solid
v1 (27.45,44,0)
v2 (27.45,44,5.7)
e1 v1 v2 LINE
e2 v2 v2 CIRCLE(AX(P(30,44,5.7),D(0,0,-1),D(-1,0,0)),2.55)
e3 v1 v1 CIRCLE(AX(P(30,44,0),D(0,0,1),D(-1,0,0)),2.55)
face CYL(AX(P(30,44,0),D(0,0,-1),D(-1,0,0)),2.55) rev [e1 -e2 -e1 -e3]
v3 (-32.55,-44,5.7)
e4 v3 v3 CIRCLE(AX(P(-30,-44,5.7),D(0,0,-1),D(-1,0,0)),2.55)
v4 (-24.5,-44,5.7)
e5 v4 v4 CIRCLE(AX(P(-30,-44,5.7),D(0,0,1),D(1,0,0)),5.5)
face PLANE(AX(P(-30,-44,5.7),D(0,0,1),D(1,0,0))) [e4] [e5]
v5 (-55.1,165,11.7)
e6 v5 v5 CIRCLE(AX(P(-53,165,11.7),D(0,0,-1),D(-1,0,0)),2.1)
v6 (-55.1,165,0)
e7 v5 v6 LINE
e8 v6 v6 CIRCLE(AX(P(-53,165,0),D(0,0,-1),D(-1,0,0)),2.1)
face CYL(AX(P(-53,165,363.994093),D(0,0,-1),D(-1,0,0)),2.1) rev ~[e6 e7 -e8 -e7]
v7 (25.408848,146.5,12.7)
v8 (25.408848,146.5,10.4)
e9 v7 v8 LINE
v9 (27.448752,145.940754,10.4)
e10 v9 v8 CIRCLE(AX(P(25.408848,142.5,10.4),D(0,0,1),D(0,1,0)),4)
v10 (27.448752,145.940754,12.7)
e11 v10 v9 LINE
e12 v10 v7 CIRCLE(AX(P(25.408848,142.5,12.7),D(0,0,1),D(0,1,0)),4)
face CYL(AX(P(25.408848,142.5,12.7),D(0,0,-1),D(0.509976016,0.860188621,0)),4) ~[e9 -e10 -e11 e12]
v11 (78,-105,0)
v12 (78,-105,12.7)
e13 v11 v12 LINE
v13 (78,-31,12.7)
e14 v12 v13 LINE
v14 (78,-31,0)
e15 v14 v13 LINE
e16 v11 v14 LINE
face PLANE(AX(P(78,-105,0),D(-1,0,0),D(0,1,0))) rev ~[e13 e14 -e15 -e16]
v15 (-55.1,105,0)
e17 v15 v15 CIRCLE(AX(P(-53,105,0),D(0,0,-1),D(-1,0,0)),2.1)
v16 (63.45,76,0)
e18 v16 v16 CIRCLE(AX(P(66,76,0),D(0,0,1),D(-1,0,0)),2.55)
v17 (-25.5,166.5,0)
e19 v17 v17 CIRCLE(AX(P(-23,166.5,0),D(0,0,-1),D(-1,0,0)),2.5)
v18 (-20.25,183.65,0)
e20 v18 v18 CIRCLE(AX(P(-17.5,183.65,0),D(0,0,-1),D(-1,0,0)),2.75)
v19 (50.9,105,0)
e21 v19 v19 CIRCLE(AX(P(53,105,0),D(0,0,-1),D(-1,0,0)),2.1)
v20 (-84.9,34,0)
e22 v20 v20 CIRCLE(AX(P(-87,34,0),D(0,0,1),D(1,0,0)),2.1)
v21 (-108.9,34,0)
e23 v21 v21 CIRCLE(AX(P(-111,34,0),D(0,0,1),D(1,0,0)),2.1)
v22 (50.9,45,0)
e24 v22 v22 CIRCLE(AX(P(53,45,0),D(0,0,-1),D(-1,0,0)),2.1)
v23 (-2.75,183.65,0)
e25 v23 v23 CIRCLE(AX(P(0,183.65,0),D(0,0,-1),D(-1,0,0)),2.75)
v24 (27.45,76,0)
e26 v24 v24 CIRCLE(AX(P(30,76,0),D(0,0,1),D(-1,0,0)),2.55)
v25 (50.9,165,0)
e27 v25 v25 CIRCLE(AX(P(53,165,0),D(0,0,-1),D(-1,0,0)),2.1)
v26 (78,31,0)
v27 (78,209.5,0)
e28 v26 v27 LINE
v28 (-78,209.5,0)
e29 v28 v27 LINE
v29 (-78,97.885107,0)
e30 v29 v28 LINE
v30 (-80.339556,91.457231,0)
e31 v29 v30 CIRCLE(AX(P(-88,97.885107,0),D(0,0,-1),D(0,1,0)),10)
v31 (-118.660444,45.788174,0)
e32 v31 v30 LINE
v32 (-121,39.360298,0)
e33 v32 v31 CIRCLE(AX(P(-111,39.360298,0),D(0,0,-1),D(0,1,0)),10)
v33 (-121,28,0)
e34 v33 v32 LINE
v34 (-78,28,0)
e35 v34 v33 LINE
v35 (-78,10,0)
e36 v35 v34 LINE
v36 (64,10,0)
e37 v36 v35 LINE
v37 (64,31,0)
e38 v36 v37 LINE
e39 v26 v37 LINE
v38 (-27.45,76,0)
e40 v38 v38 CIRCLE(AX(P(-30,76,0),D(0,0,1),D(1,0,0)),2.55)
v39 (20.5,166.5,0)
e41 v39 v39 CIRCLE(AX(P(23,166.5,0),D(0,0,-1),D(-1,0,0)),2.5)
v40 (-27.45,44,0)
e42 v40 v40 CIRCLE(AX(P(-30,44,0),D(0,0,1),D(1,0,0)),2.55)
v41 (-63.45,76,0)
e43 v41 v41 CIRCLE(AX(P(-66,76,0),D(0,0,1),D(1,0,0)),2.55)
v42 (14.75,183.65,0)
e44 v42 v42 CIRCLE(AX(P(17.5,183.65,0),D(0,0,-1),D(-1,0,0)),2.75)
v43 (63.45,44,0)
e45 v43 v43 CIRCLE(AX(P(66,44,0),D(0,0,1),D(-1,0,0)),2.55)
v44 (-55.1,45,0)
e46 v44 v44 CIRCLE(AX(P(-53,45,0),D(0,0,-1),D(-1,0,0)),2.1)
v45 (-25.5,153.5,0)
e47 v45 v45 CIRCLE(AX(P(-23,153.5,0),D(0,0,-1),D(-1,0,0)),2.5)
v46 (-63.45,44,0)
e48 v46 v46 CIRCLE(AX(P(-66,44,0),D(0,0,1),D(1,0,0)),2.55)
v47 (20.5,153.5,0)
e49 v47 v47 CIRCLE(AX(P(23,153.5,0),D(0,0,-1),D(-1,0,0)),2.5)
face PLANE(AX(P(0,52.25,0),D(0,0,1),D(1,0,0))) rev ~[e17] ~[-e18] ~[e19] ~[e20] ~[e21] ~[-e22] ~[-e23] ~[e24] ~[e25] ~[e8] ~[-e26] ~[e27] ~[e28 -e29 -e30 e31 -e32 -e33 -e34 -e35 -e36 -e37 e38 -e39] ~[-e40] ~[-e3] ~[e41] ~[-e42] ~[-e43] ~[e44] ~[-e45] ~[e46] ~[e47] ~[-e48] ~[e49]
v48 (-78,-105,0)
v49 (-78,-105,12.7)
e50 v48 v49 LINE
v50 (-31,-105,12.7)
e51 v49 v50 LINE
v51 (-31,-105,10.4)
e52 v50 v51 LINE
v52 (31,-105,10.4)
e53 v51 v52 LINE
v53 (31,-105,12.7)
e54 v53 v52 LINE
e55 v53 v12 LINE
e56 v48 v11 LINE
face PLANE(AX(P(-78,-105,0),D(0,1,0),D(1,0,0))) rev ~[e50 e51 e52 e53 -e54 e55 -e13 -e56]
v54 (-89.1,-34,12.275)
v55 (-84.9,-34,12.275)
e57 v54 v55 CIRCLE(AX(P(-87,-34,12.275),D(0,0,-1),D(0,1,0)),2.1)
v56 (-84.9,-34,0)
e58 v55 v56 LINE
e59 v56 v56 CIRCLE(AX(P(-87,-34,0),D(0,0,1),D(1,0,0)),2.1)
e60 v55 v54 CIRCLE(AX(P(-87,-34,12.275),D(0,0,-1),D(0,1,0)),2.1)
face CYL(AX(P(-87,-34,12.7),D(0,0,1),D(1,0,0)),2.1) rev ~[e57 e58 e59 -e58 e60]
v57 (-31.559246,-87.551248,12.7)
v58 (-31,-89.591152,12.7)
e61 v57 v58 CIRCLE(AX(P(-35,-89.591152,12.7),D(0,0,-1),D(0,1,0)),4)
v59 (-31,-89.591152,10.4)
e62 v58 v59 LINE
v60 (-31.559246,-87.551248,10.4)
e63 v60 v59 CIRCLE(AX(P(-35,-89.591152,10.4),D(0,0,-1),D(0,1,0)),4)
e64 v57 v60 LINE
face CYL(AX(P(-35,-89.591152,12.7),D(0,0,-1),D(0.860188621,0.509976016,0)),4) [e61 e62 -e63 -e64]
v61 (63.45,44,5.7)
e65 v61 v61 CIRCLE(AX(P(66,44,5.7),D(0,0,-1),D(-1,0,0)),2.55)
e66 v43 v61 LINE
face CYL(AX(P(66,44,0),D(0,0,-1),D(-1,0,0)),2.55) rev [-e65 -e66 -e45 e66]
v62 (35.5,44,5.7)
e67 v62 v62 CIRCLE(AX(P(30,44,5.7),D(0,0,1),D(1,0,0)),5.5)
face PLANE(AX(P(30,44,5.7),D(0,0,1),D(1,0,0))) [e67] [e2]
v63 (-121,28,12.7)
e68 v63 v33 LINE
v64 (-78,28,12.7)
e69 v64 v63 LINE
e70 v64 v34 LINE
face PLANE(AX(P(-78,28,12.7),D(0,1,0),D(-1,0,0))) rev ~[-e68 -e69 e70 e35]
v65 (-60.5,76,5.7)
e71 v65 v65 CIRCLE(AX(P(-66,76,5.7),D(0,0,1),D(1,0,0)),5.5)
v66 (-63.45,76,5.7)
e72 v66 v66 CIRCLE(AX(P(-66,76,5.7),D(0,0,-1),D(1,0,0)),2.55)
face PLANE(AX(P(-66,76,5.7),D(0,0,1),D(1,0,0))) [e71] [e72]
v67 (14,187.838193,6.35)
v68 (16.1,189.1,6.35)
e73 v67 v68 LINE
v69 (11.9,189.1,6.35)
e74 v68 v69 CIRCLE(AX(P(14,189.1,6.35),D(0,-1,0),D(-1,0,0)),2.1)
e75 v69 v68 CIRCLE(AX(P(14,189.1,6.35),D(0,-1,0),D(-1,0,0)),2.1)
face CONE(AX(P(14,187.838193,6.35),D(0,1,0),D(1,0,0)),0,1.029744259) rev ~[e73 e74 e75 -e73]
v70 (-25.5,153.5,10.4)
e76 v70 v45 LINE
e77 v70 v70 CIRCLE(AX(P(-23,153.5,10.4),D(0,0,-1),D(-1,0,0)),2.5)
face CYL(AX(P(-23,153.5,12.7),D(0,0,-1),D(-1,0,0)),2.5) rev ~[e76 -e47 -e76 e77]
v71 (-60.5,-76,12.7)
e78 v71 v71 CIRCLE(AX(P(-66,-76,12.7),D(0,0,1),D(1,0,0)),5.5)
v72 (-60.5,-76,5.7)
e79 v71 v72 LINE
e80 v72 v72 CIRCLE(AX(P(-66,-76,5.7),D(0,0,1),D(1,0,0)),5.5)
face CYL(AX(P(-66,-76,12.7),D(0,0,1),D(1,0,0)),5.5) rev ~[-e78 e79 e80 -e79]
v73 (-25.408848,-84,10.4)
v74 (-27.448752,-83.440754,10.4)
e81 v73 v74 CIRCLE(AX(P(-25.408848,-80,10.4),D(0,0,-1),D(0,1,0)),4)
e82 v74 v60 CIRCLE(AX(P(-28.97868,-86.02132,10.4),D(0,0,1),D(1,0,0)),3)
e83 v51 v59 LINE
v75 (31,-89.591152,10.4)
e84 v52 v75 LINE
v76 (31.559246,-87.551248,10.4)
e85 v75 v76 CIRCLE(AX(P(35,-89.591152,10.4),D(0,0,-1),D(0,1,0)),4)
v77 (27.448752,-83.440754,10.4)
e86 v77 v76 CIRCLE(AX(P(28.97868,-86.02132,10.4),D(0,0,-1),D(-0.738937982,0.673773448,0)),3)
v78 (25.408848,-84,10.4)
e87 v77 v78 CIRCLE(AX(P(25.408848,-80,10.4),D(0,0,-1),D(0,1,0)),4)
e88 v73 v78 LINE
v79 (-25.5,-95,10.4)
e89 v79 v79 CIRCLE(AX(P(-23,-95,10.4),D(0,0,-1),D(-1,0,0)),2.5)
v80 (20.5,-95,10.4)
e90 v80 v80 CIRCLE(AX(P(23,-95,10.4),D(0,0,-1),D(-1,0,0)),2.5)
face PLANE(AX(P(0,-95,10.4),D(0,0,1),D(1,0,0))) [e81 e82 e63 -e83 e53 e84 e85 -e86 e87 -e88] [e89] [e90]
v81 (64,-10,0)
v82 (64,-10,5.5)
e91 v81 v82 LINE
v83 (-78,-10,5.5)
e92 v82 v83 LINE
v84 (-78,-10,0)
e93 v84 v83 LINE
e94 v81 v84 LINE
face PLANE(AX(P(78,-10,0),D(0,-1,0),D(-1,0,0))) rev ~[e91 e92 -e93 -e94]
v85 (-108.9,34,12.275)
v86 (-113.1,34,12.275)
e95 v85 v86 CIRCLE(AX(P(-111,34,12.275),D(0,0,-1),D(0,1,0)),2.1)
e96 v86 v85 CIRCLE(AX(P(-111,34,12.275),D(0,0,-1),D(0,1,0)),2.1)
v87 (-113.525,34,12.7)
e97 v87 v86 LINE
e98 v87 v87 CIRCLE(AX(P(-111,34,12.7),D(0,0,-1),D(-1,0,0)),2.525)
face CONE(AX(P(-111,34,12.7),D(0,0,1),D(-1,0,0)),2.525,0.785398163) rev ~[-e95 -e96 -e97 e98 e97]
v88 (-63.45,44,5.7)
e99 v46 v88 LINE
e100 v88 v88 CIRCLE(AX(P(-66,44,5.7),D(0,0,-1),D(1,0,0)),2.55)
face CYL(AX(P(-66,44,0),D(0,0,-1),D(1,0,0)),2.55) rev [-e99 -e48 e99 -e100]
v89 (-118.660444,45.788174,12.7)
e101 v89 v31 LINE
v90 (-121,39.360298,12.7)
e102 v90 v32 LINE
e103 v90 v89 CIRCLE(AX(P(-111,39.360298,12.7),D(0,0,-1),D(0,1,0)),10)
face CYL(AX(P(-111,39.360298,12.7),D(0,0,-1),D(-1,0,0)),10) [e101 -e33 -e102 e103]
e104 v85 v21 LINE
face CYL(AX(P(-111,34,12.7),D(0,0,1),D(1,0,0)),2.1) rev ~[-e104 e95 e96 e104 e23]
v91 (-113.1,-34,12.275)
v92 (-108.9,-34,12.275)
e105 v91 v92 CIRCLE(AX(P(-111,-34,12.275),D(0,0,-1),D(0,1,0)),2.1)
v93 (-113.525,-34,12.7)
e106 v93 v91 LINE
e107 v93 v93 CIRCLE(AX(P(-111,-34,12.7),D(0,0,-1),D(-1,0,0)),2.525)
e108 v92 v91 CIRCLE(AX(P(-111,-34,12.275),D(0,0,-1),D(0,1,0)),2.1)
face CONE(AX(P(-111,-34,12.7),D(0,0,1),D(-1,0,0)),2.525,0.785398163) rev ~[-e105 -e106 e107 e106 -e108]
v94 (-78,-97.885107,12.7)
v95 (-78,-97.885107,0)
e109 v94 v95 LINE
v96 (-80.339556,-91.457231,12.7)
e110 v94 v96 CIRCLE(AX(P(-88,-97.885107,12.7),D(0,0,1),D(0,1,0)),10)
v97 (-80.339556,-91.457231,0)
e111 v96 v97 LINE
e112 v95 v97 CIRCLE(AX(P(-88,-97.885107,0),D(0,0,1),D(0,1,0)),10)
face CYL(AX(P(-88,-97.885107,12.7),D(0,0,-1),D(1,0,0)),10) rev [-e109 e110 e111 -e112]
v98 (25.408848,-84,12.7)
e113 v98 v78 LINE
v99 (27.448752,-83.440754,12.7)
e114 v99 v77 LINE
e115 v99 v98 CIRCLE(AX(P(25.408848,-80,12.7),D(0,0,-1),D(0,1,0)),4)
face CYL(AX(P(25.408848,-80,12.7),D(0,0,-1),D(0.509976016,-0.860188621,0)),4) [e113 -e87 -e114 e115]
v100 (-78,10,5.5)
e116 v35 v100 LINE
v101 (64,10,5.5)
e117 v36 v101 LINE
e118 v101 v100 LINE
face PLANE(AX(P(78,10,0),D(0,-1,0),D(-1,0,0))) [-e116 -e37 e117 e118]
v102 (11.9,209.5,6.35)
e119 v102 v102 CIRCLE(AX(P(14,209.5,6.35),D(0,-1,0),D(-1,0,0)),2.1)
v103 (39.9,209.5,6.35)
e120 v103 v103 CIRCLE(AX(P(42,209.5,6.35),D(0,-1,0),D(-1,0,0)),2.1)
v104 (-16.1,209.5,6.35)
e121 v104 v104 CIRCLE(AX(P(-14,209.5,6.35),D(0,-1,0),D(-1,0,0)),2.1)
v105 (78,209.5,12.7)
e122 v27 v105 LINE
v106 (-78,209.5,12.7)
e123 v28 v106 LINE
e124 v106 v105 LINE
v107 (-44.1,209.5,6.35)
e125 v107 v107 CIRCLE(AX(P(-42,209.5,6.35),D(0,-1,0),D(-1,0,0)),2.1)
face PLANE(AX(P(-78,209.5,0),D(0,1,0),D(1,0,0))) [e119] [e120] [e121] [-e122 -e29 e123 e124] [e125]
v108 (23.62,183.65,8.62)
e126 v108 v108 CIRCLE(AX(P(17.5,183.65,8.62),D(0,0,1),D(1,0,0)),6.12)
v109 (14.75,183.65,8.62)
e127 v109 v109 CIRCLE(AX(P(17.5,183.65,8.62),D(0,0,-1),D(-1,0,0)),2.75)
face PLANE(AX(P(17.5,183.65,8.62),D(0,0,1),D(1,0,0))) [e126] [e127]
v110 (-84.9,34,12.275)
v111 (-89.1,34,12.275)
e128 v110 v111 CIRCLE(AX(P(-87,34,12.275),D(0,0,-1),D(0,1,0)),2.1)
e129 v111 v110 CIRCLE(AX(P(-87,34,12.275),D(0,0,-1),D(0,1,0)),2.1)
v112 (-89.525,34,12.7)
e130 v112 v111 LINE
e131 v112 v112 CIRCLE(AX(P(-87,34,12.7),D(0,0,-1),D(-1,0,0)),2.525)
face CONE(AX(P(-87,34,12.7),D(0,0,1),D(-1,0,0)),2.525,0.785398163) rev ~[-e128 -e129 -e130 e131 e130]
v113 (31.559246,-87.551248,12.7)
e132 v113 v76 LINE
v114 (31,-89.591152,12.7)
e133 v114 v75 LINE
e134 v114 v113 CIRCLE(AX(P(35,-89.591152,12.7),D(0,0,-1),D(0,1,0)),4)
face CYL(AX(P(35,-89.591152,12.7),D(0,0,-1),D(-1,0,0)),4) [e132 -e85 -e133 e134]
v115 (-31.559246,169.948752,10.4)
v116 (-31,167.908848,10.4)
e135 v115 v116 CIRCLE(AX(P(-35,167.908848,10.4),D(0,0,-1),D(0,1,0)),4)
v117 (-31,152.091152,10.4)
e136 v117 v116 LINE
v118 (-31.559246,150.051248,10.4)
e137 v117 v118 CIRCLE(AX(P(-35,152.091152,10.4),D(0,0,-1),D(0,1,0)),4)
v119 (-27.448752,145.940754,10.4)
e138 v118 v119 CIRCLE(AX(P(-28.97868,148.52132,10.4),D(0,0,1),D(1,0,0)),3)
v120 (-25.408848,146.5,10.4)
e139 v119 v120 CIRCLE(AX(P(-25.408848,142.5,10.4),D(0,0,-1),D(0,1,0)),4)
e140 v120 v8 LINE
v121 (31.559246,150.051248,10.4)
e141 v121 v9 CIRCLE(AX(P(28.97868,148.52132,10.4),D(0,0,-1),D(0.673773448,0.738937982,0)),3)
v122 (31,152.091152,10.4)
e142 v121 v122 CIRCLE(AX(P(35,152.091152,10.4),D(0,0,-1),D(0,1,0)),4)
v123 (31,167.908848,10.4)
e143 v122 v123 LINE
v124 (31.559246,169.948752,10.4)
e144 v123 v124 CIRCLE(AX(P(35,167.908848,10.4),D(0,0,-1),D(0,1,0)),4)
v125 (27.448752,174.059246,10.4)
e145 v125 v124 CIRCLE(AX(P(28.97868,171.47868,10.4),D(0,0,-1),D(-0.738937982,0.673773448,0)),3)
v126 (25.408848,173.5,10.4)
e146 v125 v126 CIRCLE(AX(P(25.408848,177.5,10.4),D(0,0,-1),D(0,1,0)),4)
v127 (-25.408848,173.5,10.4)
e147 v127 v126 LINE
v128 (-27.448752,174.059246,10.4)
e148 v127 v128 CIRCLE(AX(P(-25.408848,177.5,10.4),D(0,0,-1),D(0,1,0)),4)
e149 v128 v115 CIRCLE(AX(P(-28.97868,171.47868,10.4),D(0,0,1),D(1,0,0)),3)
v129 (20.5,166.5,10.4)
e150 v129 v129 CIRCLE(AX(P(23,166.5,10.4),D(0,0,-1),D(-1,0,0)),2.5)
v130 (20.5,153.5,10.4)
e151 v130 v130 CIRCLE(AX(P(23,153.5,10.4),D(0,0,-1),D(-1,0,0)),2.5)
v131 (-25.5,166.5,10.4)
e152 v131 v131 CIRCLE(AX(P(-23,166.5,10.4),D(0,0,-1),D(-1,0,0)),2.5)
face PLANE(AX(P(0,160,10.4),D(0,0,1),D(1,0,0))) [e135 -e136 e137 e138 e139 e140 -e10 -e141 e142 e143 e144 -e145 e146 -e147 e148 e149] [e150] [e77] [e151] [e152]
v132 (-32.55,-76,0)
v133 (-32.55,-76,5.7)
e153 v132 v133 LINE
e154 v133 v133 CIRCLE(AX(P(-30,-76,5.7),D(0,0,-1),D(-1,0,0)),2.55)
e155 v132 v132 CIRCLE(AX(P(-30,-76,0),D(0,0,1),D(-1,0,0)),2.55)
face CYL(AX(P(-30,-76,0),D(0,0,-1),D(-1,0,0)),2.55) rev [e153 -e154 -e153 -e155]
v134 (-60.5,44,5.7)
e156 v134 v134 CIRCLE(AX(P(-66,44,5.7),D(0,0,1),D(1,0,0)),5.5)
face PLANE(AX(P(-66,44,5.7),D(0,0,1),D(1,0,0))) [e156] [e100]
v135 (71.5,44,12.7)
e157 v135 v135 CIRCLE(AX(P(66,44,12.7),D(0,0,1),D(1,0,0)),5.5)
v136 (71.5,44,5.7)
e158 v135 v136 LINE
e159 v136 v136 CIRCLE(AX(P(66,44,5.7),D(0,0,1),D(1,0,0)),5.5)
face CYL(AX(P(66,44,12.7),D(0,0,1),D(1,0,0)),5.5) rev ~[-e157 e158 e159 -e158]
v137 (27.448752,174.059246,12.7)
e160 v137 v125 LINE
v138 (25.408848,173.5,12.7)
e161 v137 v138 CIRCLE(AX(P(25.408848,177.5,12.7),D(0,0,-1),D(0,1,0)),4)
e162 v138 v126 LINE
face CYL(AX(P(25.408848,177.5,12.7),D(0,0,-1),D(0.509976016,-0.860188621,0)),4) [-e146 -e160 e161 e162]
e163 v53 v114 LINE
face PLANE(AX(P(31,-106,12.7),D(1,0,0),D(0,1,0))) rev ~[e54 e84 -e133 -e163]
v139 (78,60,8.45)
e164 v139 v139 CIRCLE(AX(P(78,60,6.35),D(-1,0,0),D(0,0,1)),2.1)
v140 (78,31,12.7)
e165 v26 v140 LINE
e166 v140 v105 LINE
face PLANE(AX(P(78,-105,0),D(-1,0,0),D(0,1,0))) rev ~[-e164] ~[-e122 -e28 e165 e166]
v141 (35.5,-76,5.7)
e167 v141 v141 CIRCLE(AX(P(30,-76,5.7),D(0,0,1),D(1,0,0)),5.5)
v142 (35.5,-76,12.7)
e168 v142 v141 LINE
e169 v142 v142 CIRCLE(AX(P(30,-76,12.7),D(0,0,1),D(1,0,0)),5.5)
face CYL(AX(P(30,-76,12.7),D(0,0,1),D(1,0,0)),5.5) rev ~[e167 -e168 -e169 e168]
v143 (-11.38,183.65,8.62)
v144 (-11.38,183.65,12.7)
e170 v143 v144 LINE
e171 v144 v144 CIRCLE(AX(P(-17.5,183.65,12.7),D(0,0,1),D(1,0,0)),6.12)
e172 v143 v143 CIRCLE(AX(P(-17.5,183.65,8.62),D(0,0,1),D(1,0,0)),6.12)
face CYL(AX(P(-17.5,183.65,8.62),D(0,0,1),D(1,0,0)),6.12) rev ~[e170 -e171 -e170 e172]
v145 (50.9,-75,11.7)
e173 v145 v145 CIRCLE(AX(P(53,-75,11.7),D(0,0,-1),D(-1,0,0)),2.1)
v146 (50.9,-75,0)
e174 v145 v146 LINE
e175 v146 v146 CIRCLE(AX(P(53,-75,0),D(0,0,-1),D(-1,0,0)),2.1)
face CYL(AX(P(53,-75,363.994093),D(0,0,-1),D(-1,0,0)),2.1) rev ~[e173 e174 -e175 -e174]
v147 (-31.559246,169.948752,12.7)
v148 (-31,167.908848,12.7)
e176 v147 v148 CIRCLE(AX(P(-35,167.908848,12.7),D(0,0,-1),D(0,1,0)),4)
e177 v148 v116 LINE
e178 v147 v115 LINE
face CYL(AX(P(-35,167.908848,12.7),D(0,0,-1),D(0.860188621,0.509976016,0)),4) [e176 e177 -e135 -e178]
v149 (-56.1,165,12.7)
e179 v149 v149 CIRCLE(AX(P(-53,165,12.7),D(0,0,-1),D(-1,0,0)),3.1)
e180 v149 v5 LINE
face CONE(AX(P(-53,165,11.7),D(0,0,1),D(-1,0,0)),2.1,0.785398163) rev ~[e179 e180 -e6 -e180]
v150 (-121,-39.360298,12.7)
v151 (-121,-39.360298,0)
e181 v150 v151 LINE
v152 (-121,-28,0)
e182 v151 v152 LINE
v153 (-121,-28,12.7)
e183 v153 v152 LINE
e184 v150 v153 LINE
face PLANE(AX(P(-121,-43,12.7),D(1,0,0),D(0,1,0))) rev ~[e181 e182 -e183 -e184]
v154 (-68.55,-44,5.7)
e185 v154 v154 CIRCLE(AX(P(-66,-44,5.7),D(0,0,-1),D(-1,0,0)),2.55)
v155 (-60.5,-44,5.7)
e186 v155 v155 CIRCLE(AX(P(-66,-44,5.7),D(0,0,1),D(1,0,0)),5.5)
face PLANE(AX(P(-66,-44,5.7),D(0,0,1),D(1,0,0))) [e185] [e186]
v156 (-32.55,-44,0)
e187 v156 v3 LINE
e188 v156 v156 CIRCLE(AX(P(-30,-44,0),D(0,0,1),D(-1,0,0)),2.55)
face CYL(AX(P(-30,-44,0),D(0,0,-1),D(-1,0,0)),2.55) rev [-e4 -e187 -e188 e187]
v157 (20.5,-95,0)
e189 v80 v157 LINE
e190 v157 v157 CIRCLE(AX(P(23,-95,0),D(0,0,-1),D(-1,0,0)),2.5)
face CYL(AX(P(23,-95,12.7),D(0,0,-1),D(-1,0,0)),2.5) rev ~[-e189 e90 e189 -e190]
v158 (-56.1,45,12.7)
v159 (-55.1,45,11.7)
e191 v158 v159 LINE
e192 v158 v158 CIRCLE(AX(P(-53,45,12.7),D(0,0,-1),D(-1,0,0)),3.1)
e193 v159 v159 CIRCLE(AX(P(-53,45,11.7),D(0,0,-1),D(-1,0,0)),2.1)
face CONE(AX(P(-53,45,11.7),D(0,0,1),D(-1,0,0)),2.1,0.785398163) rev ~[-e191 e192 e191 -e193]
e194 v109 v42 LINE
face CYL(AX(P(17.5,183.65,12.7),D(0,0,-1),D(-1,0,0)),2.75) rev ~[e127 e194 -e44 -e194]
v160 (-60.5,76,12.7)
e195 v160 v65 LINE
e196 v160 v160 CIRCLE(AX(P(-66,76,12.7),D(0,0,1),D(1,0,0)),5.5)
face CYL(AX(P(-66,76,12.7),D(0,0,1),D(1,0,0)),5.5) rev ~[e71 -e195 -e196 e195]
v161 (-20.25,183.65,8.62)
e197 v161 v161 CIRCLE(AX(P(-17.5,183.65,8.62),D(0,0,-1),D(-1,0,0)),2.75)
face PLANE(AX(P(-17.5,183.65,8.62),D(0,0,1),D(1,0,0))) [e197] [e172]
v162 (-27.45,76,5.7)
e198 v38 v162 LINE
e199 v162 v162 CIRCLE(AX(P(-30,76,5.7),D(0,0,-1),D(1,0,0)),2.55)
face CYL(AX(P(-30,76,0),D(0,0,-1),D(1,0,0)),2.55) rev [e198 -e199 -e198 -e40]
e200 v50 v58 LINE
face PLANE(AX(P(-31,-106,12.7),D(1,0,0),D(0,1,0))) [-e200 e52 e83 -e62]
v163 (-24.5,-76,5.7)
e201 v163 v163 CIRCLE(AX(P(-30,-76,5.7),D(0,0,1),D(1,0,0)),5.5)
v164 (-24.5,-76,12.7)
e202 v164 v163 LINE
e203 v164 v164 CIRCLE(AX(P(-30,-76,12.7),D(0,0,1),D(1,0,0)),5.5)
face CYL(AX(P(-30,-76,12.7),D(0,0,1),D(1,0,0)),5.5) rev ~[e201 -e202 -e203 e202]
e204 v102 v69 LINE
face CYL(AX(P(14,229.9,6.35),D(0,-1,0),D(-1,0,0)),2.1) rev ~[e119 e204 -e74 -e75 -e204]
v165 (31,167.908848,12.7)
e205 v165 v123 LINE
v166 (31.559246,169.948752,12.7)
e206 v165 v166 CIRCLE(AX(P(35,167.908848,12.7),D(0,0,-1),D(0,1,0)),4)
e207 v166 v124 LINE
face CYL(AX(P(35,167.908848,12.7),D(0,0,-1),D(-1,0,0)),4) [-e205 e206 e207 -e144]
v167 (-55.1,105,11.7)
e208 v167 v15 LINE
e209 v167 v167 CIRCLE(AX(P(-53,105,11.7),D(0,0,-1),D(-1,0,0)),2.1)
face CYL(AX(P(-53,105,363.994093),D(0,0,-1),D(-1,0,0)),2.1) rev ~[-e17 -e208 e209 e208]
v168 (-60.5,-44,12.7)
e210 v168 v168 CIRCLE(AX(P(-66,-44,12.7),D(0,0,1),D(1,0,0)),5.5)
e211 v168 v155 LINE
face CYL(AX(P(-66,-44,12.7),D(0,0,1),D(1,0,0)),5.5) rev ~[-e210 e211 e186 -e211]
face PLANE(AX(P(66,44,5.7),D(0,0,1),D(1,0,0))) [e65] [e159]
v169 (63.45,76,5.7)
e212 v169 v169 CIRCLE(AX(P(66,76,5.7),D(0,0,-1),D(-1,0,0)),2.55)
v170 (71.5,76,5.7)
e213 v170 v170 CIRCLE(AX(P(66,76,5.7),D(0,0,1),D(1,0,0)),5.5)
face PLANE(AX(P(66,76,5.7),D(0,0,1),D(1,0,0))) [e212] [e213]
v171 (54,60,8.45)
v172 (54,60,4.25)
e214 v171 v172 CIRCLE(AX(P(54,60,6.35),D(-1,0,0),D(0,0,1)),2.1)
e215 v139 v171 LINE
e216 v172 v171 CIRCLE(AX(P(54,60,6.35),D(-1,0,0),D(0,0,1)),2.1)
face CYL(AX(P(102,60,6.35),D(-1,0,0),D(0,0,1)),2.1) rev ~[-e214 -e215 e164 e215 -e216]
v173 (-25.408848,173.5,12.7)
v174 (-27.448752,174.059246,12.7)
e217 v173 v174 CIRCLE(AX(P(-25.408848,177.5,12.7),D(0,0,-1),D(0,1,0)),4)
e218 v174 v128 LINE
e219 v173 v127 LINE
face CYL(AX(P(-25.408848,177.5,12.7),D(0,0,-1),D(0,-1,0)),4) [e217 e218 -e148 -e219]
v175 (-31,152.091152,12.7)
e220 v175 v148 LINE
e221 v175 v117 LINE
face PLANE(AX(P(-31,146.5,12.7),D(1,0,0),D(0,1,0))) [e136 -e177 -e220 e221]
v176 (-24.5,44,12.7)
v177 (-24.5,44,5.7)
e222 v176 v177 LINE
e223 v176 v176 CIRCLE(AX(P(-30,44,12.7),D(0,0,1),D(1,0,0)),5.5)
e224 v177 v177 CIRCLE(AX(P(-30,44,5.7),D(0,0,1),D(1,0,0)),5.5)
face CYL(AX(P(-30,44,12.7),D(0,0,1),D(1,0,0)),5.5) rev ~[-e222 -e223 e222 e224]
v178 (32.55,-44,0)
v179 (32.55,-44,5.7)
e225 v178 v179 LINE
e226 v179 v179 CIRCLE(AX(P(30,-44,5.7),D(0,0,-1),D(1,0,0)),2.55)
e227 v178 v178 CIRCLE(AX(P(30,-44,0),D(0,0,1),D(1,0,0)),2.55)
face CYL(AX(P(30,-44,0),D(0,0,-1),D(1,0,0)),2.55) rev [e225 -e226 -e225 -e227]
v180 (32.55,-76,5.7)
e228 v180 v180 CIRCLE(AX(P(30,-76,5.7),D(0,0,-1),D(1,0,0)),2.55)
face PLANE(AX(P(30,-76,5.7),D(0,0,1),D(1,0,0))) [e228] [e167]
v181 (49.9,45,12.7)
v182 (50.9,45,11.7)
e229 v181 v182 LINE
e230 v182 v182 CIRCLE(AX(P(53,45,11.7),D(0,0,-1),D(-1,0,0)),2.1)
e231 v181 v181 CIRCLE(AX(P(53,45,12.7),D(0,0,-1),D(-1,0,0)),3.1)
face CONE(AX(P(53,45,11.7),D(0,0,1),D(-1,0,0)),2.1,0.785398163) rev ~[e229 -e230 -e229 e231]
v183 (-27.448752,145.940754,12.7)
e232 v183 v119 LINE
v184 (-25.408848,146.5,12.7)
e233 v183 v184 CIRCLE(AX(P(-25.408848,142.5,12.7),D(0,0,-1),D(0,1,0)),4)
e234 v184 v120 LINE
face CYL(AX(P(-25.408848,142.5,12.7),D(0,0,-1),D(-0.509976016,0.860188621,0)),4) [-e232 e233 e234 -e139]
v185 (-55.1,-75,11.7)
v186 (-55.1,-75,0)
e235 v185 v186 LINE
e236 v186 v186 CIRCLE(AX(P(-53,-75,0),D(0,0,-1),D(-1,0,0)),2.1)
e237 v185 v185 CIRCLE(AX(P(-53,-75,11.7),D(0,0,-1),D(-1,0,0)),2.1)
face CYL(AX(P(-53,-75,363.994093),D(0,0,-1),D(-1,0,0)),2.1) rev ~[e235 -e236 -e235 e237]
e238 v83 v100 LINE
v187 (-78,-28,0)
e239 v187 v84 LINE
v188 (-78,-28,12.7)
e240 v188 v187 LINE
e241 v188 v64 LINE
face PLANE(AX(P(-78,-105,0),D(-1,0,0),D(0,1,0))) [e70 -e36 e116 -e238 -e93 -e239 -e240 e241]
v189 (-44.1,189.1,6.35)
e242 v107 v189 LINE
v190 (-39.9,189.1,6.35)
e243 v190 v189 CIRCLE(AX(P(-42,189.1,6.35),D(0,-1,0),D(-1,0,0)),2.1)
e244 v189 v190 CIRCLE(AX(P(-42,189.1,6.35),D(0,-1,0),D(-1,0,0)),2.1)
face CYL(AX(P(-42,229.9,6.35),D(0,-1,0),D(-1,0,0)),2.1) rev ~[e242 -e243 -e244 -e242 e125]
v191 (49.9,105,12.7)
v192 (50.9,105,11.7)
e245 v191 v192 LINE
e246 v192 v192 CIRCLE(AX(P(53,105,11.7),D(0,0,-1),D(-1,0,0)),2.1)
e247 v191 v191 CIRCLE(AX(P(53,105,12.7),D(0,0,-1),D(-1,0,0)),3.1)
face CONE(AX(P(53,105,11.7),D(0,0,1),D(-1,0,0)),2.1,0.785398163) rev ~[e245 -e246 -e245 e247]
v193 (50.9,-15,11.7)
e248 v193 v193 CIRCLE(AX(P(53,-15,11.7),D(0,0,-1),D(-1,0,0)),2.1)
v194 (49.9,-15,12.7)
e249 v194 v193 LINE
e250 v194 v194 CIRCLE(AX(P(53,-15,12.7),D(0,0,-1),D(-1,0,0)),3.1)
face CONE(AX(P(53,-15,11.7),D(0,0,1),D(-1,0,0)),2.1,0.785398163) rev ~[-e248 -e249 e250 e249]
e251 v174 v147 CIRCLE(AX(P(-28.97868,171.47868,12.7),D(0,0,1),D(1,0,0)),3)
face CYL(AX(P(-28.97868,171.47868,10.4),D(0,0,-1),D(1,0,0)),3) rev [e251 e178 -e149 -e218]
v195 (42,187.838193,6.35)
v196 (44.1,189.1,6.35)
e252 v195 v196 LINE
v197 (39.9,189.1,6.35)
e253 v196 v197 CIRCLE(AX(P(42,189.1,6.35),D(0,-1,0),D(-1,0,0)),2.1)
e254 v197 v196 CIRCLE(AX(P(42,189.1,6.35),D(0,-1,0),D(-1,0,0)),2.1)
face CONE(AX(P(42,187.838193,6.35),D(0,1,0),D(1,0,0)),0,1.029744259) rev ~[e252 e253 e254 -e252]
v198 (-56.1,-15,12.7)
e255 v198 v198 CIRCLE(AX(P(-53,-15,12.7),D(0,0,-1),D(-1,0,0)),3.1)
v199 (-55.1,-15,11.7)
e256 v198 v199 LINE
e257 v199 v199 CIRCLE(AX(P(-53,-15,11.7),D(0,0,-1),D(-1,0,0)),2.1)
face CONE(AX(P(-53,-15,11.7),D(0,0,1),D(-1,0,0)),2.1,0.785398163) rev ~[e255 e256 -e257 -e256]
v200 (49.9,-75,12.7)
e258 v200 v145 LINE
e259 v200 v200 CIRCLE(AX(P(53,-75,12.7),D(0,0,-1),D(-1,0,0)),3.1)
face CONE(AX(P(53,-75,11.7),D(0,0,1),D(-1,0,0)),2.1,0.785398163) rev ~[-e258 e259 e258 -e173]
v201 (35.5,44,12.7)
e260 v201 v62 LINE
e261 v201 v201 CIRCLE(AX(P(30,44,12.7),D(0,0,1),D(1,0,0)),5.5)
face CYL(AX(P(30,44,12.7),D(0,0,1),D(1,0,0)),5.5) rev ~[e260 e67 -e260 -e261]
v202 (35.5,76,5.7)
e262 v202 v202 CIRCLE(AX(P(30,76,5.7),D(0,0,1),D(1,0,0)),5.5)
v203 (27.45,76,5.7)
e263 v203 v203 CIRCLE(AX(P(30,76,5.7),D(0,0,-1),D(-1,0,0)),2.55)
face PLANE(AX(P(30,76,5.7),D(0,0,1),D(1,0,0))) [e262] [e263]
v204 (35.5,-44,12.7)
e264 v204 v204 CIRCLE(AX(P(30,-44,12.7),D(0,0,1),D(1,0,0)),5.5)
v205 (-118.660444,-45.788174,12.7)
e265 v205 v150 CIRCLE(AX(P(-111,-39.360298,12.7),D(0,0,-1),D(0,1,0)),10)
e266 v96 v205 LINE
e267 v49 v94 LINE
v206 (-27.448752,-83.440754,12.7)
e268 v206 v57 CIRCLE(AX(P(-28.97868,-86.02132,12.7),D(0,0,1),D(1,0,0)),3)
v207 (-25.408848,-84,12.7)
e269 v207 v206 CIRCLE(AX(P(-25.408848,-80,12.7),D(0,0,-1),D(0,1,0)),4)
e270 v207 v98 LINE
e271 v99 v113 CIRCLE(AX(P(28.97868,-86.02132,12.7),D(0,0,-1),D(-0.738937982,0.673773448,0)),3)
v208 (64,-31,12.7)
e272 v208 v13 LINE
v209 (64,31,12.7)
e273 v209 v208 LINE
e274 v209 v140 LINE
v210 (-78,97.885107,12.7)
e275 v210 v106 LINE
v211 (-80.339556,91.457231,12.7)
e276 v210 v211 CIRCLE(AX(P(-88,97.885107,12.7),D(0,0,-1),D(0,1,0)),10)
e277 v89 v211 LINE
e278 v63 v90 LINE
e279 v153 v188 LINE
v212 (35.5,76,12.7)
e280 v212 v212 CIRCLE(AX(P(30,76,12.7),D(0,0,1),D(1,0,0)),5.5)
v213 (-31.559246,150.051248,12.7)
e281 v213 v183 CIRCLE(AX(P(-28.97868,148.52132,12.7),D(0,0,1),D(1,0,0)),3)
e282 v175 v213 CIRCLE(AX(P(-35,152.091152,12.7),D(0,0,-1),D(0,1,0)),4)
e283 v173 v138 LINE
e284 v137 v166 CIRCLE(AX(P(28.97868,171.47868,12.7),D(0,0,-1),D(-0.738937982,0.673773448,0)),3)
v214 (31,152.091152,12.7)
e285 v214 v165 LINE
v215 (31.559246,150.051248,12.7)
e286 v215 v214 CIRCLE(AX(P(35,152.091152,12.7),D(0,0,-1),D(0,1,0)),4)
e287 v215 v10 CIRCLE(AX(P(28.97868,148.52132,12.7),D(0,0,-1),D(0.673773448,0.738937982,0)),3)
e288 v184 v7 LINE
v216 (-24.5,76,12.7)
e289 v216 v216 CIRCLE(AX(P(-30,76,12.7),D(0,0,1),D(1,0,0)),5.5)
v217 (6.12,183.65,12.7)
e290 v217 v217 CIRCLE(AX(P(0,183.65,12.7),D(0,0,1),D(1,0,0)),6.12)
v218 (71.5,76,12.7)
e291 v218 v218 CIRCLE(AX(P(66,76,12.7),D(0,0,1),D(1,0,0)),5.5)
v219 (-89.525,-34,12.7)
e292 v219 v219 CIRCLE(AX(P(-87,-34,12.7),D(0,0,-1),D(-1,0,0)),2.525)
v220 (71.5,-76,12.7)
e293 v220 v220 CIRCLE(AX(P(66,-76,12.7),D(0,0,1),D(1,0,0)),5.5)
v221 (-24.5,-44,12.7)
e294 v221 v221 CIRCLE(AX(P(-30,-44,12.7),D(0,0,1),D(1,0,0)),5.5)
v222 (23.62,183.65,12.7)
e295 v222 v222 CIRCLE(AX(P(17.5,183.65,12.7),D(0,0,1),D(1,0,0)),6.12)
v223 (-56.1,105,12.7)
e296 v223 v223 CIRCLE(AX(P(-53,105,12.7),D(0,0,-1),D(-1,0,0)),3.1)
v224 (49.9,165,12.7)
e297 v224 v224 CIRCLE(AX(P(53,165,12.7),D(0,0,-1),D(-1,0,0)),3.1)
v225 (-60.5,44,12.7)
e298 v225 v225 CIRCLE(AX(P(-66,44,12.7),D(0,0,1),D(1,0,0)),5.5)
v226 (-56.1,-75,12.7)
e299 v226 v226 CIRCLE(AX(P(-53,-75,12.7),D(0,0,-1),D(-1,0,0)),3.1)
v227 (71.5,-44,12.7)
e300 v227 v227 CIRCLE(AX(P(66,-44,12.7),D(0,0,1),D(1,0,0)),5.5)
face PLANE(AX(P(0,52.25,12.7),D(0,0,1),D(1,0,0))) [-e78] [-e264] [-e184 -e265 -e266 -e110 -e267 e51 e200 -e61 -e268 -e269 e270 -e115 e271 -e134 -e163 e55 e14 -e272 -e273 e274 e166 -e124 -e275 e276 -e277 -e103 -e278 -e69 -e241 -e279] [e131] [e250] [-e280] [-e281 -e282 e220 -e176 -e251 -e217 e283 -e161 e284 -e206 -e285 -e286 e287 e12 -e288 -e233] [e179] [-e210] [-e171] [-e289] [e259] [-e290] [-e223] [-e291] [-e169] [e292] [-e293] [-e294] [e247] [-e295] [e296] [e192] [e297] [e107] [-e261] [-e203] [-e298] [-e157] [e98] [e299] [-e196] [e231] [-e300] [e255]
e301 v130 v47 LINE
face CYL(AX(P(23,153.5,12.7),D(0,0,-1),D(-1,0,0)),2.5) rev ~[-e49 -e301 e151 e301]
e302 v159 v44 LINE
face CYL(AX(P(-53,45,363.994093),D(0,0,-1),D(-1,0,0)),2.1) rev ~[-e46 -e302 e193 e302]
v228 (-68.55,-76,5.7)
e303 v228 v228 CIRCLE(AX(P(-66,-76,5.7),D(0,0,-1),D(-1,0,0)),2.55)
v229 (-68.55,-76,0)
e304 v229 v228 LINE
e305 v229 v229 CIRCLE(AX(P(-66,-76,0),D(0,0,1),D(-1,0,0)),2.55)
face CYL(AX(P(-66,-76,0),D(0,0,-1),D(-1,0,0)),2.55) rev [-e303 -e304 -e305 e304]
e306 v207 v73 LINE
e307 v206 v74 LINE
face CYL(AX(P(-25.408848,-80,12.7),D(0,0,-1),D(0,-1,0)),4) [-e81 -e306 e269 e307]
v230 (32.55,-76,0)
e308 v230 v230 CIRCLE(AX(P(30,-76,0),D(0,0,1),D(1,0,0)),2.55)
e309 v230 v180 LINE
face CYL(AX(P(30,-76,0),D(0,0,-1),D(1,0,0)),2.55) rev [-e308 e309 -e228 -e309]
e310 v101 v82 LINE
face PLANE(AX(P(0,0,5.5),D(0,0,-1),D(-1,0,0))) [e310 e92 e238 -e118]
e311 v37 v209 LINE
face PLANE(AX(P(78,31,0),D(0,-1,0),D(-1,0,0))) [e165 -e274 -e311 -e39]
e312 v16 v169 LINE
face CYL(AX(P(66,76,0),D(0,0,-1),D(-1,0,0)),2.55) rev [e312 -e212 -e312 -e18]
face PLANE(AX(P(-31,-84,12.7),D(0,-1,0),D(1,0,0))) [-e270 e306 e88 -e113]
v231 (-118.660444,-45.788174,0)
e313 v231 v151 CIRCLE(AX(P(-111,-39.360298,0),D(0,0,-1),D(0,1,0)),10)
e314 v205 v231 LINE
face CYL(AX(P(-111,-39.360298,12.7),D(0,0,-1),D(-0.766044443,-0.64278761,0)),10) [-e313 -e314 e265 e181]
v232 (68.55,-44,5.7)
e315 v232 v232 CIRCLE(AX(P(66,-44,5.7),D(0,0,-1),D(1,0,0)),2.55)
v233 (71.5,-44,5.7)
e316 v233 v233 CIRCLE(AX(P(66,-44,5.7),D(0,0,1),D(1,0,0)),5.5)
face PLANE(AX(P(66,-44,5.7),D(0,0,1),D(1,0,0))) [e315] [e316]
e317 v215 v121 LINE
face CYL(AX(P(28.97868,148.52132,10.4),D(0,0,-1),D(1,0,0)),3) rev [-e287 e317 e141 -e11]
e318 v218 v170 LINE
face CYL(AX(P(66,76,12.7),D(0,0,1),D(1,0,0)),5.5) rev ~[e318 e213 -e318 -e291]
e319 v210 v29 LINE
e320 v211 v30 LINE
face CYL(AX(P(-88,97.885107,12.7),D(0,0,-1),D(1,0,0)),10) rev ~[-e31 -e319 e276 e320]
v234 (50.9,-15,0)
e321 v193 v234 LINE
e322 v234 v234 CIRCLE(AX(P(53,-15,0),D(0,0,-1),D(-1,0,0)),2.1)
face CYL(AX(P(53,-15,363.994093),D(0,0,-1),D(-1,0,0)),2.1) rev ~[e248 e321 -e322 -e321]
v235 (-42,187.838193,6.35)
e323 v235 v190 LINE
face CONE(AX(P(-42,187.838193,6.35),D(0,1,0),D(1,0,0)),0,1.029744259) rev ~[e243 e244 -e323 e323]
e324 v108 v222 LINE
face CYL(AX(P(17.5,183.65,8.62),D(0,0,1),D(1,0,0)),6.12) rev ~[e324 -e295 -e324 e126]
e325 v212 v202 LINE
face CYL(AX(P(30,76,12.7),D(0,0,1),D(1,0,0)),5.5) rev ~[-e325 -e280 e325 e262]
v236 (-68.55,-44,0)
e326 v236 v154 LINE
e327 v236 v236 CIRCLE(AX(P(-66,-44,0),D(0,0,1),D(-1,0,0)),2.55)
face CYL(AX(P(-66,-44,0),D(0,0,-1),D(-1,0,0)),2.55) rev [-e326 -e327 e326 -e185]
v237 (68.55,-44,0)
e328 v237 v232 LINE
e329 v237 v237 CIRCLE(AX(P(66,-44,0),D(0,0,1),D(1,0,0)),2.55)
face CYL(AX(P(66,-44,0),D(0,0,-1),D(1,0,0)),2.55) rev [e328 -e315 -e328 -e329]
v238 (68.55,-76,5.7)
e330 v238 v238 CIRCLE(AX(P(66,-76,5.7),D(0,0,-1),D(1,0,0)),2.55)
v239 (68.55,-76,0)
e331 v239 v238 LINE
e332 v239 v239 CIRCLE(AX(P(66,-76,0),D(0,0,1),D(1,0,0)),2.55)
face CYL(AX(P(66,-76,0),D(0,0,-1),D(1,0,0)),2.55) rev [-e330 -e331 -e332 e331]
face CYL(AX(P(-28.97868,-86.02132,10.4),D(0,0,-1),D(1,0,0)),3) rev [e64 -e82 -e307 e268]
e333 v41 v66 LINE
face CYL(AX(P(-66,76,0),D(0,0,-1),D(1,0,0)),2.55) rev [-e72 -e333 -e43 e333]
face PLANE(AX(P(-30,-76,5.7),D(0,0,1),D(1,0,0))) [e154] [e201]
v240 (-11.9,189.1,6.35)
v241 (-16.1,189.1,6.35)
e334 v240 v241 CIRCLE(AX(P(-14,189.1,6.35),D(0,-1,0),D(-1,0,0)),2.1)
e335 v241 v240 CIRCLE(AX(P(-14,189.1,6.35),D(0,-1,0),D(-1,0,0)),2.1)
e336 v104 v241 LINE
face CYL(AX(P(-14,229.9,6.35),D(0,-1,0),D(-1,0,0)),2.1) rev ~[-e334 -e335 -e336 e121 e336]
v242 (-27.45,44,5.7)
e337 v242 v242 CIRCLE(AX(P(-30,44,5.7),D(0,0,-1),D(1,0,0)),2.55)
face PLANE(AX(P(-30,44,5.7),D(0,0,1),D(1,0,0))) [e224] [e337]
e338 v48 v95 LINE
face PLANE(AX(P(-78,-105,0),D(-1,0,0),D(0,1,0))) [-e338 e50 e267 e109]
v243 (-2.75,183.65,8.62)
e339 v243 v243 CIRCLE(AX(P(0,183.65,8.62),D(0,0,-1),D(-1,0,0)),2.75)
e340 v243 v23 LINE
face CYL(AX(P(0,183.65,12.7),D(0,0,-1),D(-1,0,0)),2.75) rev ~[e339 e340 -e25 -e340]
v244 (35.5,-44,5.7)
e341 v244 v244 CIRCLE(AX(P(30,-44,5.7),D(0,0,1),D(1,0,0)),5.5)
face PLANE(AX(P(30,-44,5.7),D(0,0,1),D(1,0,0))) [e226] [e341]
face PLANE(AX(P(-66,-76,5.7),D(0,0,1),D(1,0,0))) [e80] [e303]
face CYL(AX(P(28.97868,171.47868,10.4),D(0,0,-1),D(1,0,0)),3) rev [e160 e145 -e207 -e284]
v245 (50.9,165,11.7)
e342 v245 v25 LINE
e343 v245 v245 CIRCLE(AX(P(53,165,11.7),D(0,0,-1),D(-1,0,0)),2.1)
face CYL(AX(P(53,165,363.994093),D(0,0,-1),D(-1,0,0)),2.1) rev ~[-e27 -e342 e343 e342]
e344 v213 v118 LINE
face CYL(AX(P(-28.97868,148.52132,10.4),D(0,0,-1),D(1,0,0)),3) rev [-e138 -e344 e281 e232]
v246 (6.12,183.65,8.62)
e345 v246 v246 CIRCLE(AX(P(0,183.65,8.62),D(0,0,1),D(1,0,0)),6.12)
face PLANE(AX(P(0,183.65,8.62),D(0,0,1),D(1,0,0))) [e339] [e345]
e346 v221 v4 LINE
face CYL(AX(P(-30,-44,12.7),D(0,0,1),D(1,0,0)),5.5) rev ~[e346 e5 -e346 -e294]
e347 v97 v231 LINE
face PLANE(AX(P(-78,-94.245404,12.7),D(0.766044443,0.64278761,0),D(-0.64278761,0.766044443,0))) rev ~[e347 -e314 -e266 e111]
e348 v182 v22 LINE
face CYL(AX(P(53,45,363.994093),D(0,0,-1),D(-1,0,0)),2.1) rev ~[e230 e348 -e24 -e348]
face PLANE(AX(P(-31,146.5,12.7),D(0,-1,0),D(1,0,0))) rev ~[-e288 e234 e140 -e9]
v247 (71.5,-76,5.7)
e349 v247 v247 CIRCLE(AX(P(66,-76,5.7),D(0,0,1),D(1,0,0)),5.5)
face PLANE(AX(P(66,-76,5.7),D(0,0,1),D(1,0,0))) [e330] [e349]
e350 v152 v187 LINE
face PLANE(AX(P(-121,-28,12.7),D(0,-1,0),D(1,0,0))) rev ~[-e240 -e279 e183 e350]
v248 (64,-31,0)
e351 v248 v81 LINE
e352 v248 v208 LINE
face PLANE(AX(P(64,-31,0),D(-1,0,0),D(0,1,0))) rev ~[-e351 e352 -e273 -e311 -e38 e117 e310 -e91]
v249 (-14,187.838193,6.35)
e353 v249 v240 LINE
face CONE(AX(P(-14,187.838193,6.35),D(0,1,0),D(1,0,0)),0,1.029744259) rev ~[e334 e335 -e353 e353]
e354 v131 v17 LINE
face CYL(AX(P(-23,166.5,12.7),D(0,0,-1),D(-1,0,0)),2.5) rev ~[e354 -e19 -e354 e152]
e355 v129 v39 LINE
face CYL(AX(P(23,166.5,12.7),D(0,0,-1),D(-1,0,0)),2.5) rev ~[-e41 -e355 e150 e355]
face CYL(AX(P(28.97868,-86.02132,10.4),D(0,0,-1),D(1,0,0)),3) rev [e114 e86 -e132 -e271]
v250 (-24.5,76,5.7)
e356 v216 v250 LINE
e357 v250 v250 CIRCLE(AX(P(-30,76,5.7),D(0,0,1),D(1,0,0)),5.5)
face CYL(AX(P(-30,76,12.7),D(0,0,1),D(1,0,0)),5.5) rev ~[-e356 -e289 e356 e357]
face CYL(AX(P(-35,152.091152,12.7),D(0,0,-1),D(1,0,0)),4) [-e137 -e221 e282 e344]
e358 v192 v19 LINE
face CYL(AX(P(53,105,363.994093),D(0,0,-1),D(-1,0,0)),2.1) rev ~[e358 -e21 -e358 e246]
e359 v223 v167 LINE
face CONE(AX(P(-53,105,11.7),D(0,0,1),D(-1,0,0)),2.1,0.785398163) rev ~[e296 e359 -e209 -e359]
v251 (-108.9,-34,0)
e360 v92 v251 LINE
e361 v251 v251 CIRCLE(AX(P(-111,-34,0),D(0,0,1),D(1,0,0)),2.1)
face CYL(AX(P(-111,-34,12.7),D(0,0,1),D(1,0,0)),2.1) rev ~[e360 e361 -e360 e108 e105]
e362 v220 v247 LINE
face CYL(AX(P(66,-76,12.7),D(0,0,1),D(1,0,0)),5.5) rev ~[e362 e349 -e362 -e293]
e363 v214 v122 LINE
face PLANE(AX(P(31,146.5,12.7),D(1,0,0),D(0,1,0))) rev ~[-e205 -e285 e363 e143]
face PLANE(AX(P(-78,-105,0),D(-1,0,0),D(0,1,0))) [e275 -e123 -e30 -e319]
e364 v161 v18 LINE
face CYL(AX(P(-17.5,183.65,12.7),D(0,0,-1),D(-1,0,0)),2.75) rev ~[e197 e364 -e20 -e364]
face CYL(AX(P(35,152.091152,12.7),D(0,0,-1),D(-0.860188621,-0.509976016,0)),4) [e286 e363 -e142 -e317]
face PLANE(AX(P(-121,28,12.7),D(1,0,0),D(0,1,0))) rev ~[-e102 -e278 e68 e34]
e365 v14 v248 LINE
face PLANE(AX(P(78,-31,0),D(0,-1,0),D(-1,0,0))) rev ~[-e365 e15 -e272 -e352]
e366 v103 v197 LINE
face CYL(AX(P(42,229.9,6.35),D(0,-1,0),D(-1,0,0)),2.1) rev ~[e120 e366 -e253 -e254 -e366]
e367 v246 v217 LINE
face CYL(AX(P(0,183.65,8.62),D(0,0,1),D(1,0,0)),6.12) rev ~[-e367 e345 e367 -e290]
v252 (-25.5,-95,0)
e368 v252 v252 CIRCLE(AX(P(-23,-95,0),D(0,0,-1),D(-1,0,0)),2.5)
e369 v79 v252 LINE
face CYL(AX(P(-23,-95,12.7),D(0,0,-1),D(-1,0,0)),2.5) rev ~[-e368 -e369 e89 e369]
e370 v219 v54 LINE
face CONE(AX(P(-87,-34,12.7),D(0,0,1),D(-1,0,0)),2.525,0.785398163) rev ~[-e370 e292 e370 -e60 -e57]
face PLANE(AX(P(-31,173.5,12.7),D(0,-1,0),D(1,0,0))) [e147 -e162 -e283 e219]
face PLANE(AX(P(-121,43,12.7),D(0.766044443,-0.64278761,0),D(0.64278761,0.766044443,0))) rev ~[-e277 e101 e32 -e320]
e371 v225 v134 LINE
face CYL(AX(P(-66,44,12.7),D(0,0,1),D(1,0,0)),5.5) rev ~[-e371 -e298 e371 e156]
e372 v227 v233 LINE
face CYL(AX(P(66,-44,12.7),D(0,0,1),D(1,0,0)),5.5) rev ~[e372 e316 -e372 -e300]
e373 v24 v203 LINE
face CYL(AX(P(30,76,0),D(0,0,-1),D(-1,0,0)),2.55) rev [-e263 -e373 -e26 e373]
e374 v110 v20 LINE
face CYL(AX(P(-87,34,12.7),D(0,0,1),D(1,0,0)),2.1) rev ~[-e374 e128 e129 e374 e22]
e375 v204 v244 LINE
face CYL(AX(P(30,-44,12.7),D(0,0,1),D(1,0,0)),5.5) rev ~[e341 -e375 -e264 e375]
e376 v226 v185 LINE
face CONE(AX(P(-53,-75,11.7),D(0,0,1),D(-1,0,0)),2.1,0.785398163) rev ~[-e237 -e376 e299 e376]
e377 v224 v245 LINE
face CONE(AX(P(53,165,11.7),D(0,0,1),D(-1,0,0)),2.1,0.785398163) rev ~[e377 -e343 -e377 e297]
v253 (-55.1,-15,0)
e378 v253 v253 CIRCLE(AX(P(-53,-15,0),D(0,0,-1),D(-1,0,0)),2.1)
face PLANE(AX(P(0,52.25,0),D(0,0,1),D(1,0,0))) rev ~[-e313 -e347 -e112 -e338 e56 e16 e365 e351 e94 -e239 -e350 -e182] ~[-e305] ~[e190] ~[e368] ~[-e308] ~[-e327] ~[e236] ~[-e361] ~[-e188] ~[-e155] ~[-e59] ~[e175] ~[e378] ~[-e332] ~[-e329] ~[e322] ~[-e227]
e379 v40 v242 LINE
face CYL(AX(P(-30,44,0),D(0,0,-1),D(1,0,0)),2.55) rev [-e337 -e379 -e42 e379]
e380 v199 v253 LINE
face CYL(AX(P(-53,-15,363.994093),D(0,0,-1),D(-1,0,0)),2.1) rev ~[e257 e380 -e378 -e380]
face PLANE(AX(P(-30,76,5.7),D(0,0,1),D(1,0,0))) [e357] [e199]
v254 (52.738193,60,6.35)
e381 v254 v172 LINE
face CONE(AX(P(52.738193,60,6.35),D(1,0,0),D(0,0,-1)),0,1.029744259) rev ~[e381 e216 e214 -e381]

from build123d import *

# Parameters (mm, degrees)
SKETCH1_W                               = 156
SKETCH1_H                               = 314.5
SKETCH1_R                               = 2.55
BOSS_EXTRUDE1_DEPTH                     = 12.7
SKETCH2_R                               = 5.5
CUT_EXTRUDE1_DEPTH                      = 7
M5X0_8_TAPPED_HOLE5_D                   = 4.2
CHAMFER1_SIZE                           = 1
M5X0_8_TAPPED_HOLE3_D                   = 4.2
M5X0_8_TAPPED_HOLE3_DEPTH               = 20.4
M5X0_8_TAPPED_HOLE3_TIP                 = 1.2618073
SKETCH8_W                               = 14
SKETCH8_H                               = 62
CUT_EXTRUDE3_DEPTH                      = 224.909669287
SKETCH9_W                               = 156
SKETCH9_H                               = 20
CUT_EXTRUDE_THIN1_DEPTH                 = 5.5
SKETCH10_R                              = 2.1
BOSS_EXTRUDE2_DEPTH                     = 12.7
FILLET1_R                               = 10
M5X0_8_TAPPED_HOLE2_D                   = 4.2
M5X0_8_TAPPED_HOLE2_CSINK_D             = 5.05
M5X0_8_TAPPED_HOLE2_CSINK_ANGLE         = 90
M6X1_0_TAPPED_HOLE2_D                   = 5
M6X1_0_TAPPED_HOLE2_CSINK_D             = 6.05
M6X1_0_TAPPED_HOLE2_CSINK_ANGLE         = 90
SKETCH16_W                              = 62
SKETCH16_H                              = 27
SKETCH16_H_2                            = 22
CUT_EXTRUDE4_DEPTH                      = 2.3
CBORE_FOR_M5_HEX_HEAD_BOLT1_D           = 5.5
CBORE_FOR_M5_HEX_HEAD_BOLT1_CBORE_D     = 12.24
CBORE_FOR_M5_HEX_HEAD_BOLT1_CBORE_DEPTH = 4.08
M5X0_8_TAPPED_HOLE4_D                   = 4.2
M5X0_8_TAPPED_HOLE4_DEPTH               = 24
M5X0_8_TAPPED_HOLE4_TIP                 = 1.2618073
SKETCH27_R                              = 3
CUT_EXTRUDE5_DEPTH                      = 2.3
FILLET2_R                               = 4


with BuildPart() as part:
    # Sketch1 → Boss-Extrude1 (new body)
    with BuildSketch(Plane.XY):
        with Locations((0, 52.25)):
            Rectangle(SKETCH1_W, SKETCH1_H)
        with Locations((30, -44)):
            Circle(SKETCH1_R, mode=Mode.SUBTRACT)
        with Locations((66, -44)):
            Circle(SKETCH1_R, mode=Mode.SUBTRACT)
        with Locations((30, -76)):
            Circle(SKETCH1_R, mode=Mode.SUBTRACT)
        with Locations((66, -76)):
            Circle(SKETCH1_R, mode=Mode.SUBTRACT)
        with Locations(Location((-66, -44, 0), (0, 0, 180))):
            Circle(SKETCH1_R, mode=Mode.SUBTRACT)
        with Locations(Location((-66, -76, 0), (0, 0, 180))):
            Circle(SKETCH1_R, mode=Mode.SUBTRACT)
        with Locations(Location((-30, -76, 0), (0, 0, 180))):
            Circle(SKETCH1_R, mode=Mode.SUBTRACT)
        with Locations(Location((-30, -44, 0), (0, 0, 180))):
            Circle(SKETCH1_R, mode=Mode.SUBTRACT)
        with Locations(Location((66, 76, 0), (0, 0, 180))):
            Circle(SKETCH1_R, mode=Mode.SUBTRACT)
        with Locations(Location((66, 44, 0), (0, 0, 180))):
            Circle(SKETCH1_R, mode=Mode.SUBTRACT)
        with Locations(Location((30, 76, 0), (0, 0, 180))):
            Circle(SKETCH1_R, mode=Mode.SUBTRACT)
        with Locations(Location((30, 44, 0), (0, 0, 180))):
            Circle(SKETCH1_R, mode=Mode.SUBTRACT)
        with Locations((-30, 76)):
            Circle(SKETCH1_R, mode=Mode.SUBTRACT)
        with Locations((-30, 44)):
            Circle(SKETCH1_R, mode=Mode.SUBTRACT)
        with Locations((-66, 76)):
            Circle(SKETCH1_R, mode=Mode.SUBTRACT)
        with Locations((-66, 44)):
            Circle(SKETCH1_R, mode=Mode.SUBTRACT)
    extrude(amount=BOSS_EXTRUDE1_DEPTH)

    # Sketch2 → Cut-Extrude1 (cut)
    with BuildSketch(Plane.XY.offset(12.7)):
        with Locations((-66, 76)):
            Circle(SKETCH2_R)
        with Locations((-30, 76)):
            Circle(SKETCH2_R)
        with Locations((-66, 44)):
            Circle(SKETCH2_R)
        with Locations((-30, 44)):
            Circle(SKETCH2_R)
        with Locations((30, 76)):
            Circle(SKETCH2_R)
        with Locations((66, 76)):
            Circle(SKETCH2_R)
        with Locations((30, 44)):
            Circle(SKETCH2_R)
        with Locations((66, 44)):
            Circle(SKETCH2_R)
        with Locations((-66, -44)):
            Circle(SKETCH2_R)
        with Locations((-30, -44)):
            Circle(SKETCH2_R)
        with Locations((-66, -76)):
            Circle(SKETCH2_R)
        with Locations((-30, -76)):
            Circle(SKETCH2_R)
        with Locations((30, -76)):
            Circle(SKETCH2_R)
        with Locations((30, -44)):
            Circle(SKETCH2_R)
        with Locations((66, -44)):
            Circle(SKETCH2_R)
        with Locations((66, -76)):
            Circle(SKETCH2_R)
    extrude(amount=-CUT_EXTRUDE1_DEPTH, mode=Mode.SUBTRACT)

    # M5x0.8 Tapped Hole5 (through all)
    with Locations(Plane(origin=(53, 165, 12.7), x_dir=(1, 0, 0), z_dir=(0, 0, 1))):
        with Locations((0, 0), (0, -60), (0, -120), (0, -180), (0, -240), (-106, 0), (-106, -60), (-106, -120), (-106, -180), (-106, -240)):
            Hole(M5X0_8_TAPPED_HOLE5_D / 2)

    # Chamfer1
    chamfer1_edges = [part.edges().sort_by_distance(p)[0] for p in [
        (-50.9, -75, 12.7),
        (-50.9, -15, 12.7),
        (-50.9, 45, 12.7),
        (-50.9, 105, 12.7),
        (-50.9, 165, 12.7),
        (55.1, -75, 12.7),
        (55.1, -15, 12.7),
        (55.1, 45, 12.7),
        (55.1, 105, 12.7),
        (55.1, 165, 12.7),
    ]]
    chamfer(chamfer1_edges, length=CHAMFER1_SIZE)

    # M5x0.8 Tapped Hole3
    with Locations(Plane(origin=(0, 209.5, 0), x_dir=(1, 0, 0), z_dir=(0, 1, 0))):
        with Locations((42, -6.35), (14, -6.35), (-14, -6.35), (-42, -6.35)):
            Hole(M5X0_8_TAPPED_HOLE3_D / 2, depth=M5X0_8_TAPPED_HOLE3_DEPTH)
            with Locations((0, 0, -(M5X0_8_TAPPED_HOLE3_DEPTH + M5X0_8_TAPPED_HOLE3_TIP / 2))):  # 118° drill point
                Cone(0, M5X0_8_TAPPED_HOLE3_D / 2, M5X0_8_TAPPED_HOLE3_TIP, mode=Mode.SUBTRACT)

    # Sketch8 → Cut-Extrude3 (cut, through all)
    with BuildSketch(Plane(origin=(0, 0, 0), x_dir=(-1, 0, 0), z_dir=(0, 0, -1))):
        with Locations((-71, 0)):
            Rectangle(SKETCH8_W, SKETCH8_H)
    extrude(amount=-CUT_EXTRUDE3_DEPTH, mode=Mode.SUBTRACT)

    # Sketch9 → Cut-Extrude-Thin1 (cut)
    with BuildSketch(Plane(origin=(0, 0, 0), x_dir=(-1, 0, 0), z_dir=(0, 0, -1))):
        Rectangle(SKETCH9_W, SKETCH9_H)
    extrude(amount=-CUT_EXTRUDE_THIN1_DEPTH, mode=Mode.SUBTRACT)

    # Sketch10 → Boss-Extrude2 (add)
    # profile 1 of 2: a face of its own
    with BuildSketch(Plane.XY.offset(12.7)):
        Polygon((-121, 28), (-121, 43), (-78, 94.245404482), (-78, 28), align=None)
        with Locations((-111, 34)):
            Circle(SKETCH10_R, mode=Mode.SUBTRACT)
        with Locations((-87, 34)):
            Circle(SKETCH10_R, mode=Mode.SUBTRACT)
    # profile 2 of 2: a face of its own
    with BuildSketch(Plane.XY.offset(12.7)):
        Polygon((-78, -28), (-78, -94.245404482), (-121, -43), (-121, -28), align=None)
        with Locations((-87, -34)):
            Circle(SKETCH10_R, mode=Mode.SUBTRACT)
        with Locations((-111, -34)):
            Circle(SKETCH10_R, mode=Mode.SUBTRACT)
    extrude(amount=-BOSS_EXTRUDE2_DEPTH)

    # Fillet1
    fillet1_edges = [part.edges().sort_by_distance(p)[0] for p in [
        (-78, 94.245404482, 6.35),
        (-121, 43, 6.35),
        (-121, -43, 6.35),
        (-78, -94.245404482, 6.35),
    ]]
    fillet(fillet1_edges, radius=FILLET1_R)

    # M5x0.8 Tapped Hole2 (through all)
    with Locations(Plane.XY.offset(12.7)):
        with Locations((-87, 34), (-111, 34), (-87, -34), (-111, -34)):
            CounterSinkHole(M5X0_8_TAPPED_HOLE2_D / 2, M5X0_8_TAPPED_HOLE2_CSINK_D / 2, counter_sink_angle=M5X0_8_TAPPED_HOLE2_CSINK_ANGLE)

    # M6x1.0 Tapped Hole2 (through all)
    with Locations(Plane.XY.offset(12.7)):
        with Locations((-23, 166.5), (23, 166.5), (-23, 153.5), (23, 153.5), (-23, -95), (23, -95)):
            CounterSinkHole(M6X1_0_TAPPED_HOLE2_D / 2, M6X1_0_TAPPED_HOLE2_CSINK_D / 2, counter_sink_angle=M6X1_0_TAPPED_HOLE2_CSINK_ANGLE)

    # Sketch16 → Cut-Extrude4 (cut)
    with BuildSketch(Plane.XY.offset(12.7)):
        with Locations((0, 160)):
            Rectangle(SKETCH16_W, SKETCH16_H)
        with Locations((0, -95)):
            Rectangle(SKETCH16_W, SKETCH16_H_2)
    extrude(amount=-CUT_EXTRUDE4_DEPTH, mode=Mode.SUBTRACT)

    # CBORE for M5 Hex Head Bolt1 (through all)
    with Locations(Plane.XY.offset(12.7)):
        with Locations((-17.5, 183.65), (0, 183.65), (17.5, 183.65)):
            CounterBoreHole(CBORE_FOR_M5_HEX_HEAD_BOLT1_D / 2, CBORE_FOR_M5_HEX_HEAD_BOLT1_CBORE_D / 2, CBORE_FOR_M5_HEX_HEAD_BOLT1_CBORE_DEPTH)

    # M5x0.8 Tapped Hole4
    with Locations(Plane(origin=(78, 0, 0), x_dir=(0, 0, -1), z_dir=(1, 0, 0))):
        with Locations((-6.35, 60)):
            Hole(M5X0_8_TAPPED_HOLE4_D / 2, depth=M5X0_8_TAPPED_HOLE4_DEPTH)
            with Locations((0, 0, -(M5X0_8_TAPPED_HOLE4_DEPTH + M5X0_8_TAPPED_HOLE4_TIP / 2))):  # 118° drill point
                Cone(0, M5X0_8_TAPPED_HOLE4_D / 2, M5X0_8_TAPPED_HOLE4_TIP, mode=Mode.SUBTRACT)

    # Sketch27 → Cut-Extrude5 (cut)
    with BuildSketch(Plane.XY.offset(10.4)):
        with Locations((-28.978679656, 171.478679656)):
            Circle(SKETCH27_R)
        with Locations((28.978679656, 171.478679656)):
            Circle(SKETCH27_R)
        with Locations((28.978679656, 148.521320344)):
            Circle(SKETCH27_R)
        with Locations((-28.978679656, 148.521320344)):
            Circle(SKETCH27_R)
        with Locations((-28.978679656, -86.021320344)):
            Circle(SKETCH27_R)
        with Locations((28.978679656, -86.021320344)):
            Circle(SKETCH27_R)
    extrude(amount=CUT_EXTRUDE5_DEPTH, mode=Mode.SUBTRACT)

    # Fillet2
    fillet2_edges = [part.edges().sort_by_distance(p)[0] for p in [
        (26.761865711, -84, 11.55),
        (-26.761865711, -84, 11.55),
        (-26.761865711, 173.5, 11.55),
        (26.761865711, 173.5, 11.55),
        (-31, 150.738134289, 11.55),
        (26.761865711, 146.5, 11.55),
        (31, 169.261865711, 11.55),
        (31, 150.738134289, 11.55),
        (-26.761865711, 146.5, 11.55),
        (-31, -88.238134289, 11.55),
        (31, -88.238134289, 11.55),
        (-31, 169.261865711, 11.55),
    ]]
    fillet(fillet2_edges, radius=FILLET2_R)


solid = part.part
